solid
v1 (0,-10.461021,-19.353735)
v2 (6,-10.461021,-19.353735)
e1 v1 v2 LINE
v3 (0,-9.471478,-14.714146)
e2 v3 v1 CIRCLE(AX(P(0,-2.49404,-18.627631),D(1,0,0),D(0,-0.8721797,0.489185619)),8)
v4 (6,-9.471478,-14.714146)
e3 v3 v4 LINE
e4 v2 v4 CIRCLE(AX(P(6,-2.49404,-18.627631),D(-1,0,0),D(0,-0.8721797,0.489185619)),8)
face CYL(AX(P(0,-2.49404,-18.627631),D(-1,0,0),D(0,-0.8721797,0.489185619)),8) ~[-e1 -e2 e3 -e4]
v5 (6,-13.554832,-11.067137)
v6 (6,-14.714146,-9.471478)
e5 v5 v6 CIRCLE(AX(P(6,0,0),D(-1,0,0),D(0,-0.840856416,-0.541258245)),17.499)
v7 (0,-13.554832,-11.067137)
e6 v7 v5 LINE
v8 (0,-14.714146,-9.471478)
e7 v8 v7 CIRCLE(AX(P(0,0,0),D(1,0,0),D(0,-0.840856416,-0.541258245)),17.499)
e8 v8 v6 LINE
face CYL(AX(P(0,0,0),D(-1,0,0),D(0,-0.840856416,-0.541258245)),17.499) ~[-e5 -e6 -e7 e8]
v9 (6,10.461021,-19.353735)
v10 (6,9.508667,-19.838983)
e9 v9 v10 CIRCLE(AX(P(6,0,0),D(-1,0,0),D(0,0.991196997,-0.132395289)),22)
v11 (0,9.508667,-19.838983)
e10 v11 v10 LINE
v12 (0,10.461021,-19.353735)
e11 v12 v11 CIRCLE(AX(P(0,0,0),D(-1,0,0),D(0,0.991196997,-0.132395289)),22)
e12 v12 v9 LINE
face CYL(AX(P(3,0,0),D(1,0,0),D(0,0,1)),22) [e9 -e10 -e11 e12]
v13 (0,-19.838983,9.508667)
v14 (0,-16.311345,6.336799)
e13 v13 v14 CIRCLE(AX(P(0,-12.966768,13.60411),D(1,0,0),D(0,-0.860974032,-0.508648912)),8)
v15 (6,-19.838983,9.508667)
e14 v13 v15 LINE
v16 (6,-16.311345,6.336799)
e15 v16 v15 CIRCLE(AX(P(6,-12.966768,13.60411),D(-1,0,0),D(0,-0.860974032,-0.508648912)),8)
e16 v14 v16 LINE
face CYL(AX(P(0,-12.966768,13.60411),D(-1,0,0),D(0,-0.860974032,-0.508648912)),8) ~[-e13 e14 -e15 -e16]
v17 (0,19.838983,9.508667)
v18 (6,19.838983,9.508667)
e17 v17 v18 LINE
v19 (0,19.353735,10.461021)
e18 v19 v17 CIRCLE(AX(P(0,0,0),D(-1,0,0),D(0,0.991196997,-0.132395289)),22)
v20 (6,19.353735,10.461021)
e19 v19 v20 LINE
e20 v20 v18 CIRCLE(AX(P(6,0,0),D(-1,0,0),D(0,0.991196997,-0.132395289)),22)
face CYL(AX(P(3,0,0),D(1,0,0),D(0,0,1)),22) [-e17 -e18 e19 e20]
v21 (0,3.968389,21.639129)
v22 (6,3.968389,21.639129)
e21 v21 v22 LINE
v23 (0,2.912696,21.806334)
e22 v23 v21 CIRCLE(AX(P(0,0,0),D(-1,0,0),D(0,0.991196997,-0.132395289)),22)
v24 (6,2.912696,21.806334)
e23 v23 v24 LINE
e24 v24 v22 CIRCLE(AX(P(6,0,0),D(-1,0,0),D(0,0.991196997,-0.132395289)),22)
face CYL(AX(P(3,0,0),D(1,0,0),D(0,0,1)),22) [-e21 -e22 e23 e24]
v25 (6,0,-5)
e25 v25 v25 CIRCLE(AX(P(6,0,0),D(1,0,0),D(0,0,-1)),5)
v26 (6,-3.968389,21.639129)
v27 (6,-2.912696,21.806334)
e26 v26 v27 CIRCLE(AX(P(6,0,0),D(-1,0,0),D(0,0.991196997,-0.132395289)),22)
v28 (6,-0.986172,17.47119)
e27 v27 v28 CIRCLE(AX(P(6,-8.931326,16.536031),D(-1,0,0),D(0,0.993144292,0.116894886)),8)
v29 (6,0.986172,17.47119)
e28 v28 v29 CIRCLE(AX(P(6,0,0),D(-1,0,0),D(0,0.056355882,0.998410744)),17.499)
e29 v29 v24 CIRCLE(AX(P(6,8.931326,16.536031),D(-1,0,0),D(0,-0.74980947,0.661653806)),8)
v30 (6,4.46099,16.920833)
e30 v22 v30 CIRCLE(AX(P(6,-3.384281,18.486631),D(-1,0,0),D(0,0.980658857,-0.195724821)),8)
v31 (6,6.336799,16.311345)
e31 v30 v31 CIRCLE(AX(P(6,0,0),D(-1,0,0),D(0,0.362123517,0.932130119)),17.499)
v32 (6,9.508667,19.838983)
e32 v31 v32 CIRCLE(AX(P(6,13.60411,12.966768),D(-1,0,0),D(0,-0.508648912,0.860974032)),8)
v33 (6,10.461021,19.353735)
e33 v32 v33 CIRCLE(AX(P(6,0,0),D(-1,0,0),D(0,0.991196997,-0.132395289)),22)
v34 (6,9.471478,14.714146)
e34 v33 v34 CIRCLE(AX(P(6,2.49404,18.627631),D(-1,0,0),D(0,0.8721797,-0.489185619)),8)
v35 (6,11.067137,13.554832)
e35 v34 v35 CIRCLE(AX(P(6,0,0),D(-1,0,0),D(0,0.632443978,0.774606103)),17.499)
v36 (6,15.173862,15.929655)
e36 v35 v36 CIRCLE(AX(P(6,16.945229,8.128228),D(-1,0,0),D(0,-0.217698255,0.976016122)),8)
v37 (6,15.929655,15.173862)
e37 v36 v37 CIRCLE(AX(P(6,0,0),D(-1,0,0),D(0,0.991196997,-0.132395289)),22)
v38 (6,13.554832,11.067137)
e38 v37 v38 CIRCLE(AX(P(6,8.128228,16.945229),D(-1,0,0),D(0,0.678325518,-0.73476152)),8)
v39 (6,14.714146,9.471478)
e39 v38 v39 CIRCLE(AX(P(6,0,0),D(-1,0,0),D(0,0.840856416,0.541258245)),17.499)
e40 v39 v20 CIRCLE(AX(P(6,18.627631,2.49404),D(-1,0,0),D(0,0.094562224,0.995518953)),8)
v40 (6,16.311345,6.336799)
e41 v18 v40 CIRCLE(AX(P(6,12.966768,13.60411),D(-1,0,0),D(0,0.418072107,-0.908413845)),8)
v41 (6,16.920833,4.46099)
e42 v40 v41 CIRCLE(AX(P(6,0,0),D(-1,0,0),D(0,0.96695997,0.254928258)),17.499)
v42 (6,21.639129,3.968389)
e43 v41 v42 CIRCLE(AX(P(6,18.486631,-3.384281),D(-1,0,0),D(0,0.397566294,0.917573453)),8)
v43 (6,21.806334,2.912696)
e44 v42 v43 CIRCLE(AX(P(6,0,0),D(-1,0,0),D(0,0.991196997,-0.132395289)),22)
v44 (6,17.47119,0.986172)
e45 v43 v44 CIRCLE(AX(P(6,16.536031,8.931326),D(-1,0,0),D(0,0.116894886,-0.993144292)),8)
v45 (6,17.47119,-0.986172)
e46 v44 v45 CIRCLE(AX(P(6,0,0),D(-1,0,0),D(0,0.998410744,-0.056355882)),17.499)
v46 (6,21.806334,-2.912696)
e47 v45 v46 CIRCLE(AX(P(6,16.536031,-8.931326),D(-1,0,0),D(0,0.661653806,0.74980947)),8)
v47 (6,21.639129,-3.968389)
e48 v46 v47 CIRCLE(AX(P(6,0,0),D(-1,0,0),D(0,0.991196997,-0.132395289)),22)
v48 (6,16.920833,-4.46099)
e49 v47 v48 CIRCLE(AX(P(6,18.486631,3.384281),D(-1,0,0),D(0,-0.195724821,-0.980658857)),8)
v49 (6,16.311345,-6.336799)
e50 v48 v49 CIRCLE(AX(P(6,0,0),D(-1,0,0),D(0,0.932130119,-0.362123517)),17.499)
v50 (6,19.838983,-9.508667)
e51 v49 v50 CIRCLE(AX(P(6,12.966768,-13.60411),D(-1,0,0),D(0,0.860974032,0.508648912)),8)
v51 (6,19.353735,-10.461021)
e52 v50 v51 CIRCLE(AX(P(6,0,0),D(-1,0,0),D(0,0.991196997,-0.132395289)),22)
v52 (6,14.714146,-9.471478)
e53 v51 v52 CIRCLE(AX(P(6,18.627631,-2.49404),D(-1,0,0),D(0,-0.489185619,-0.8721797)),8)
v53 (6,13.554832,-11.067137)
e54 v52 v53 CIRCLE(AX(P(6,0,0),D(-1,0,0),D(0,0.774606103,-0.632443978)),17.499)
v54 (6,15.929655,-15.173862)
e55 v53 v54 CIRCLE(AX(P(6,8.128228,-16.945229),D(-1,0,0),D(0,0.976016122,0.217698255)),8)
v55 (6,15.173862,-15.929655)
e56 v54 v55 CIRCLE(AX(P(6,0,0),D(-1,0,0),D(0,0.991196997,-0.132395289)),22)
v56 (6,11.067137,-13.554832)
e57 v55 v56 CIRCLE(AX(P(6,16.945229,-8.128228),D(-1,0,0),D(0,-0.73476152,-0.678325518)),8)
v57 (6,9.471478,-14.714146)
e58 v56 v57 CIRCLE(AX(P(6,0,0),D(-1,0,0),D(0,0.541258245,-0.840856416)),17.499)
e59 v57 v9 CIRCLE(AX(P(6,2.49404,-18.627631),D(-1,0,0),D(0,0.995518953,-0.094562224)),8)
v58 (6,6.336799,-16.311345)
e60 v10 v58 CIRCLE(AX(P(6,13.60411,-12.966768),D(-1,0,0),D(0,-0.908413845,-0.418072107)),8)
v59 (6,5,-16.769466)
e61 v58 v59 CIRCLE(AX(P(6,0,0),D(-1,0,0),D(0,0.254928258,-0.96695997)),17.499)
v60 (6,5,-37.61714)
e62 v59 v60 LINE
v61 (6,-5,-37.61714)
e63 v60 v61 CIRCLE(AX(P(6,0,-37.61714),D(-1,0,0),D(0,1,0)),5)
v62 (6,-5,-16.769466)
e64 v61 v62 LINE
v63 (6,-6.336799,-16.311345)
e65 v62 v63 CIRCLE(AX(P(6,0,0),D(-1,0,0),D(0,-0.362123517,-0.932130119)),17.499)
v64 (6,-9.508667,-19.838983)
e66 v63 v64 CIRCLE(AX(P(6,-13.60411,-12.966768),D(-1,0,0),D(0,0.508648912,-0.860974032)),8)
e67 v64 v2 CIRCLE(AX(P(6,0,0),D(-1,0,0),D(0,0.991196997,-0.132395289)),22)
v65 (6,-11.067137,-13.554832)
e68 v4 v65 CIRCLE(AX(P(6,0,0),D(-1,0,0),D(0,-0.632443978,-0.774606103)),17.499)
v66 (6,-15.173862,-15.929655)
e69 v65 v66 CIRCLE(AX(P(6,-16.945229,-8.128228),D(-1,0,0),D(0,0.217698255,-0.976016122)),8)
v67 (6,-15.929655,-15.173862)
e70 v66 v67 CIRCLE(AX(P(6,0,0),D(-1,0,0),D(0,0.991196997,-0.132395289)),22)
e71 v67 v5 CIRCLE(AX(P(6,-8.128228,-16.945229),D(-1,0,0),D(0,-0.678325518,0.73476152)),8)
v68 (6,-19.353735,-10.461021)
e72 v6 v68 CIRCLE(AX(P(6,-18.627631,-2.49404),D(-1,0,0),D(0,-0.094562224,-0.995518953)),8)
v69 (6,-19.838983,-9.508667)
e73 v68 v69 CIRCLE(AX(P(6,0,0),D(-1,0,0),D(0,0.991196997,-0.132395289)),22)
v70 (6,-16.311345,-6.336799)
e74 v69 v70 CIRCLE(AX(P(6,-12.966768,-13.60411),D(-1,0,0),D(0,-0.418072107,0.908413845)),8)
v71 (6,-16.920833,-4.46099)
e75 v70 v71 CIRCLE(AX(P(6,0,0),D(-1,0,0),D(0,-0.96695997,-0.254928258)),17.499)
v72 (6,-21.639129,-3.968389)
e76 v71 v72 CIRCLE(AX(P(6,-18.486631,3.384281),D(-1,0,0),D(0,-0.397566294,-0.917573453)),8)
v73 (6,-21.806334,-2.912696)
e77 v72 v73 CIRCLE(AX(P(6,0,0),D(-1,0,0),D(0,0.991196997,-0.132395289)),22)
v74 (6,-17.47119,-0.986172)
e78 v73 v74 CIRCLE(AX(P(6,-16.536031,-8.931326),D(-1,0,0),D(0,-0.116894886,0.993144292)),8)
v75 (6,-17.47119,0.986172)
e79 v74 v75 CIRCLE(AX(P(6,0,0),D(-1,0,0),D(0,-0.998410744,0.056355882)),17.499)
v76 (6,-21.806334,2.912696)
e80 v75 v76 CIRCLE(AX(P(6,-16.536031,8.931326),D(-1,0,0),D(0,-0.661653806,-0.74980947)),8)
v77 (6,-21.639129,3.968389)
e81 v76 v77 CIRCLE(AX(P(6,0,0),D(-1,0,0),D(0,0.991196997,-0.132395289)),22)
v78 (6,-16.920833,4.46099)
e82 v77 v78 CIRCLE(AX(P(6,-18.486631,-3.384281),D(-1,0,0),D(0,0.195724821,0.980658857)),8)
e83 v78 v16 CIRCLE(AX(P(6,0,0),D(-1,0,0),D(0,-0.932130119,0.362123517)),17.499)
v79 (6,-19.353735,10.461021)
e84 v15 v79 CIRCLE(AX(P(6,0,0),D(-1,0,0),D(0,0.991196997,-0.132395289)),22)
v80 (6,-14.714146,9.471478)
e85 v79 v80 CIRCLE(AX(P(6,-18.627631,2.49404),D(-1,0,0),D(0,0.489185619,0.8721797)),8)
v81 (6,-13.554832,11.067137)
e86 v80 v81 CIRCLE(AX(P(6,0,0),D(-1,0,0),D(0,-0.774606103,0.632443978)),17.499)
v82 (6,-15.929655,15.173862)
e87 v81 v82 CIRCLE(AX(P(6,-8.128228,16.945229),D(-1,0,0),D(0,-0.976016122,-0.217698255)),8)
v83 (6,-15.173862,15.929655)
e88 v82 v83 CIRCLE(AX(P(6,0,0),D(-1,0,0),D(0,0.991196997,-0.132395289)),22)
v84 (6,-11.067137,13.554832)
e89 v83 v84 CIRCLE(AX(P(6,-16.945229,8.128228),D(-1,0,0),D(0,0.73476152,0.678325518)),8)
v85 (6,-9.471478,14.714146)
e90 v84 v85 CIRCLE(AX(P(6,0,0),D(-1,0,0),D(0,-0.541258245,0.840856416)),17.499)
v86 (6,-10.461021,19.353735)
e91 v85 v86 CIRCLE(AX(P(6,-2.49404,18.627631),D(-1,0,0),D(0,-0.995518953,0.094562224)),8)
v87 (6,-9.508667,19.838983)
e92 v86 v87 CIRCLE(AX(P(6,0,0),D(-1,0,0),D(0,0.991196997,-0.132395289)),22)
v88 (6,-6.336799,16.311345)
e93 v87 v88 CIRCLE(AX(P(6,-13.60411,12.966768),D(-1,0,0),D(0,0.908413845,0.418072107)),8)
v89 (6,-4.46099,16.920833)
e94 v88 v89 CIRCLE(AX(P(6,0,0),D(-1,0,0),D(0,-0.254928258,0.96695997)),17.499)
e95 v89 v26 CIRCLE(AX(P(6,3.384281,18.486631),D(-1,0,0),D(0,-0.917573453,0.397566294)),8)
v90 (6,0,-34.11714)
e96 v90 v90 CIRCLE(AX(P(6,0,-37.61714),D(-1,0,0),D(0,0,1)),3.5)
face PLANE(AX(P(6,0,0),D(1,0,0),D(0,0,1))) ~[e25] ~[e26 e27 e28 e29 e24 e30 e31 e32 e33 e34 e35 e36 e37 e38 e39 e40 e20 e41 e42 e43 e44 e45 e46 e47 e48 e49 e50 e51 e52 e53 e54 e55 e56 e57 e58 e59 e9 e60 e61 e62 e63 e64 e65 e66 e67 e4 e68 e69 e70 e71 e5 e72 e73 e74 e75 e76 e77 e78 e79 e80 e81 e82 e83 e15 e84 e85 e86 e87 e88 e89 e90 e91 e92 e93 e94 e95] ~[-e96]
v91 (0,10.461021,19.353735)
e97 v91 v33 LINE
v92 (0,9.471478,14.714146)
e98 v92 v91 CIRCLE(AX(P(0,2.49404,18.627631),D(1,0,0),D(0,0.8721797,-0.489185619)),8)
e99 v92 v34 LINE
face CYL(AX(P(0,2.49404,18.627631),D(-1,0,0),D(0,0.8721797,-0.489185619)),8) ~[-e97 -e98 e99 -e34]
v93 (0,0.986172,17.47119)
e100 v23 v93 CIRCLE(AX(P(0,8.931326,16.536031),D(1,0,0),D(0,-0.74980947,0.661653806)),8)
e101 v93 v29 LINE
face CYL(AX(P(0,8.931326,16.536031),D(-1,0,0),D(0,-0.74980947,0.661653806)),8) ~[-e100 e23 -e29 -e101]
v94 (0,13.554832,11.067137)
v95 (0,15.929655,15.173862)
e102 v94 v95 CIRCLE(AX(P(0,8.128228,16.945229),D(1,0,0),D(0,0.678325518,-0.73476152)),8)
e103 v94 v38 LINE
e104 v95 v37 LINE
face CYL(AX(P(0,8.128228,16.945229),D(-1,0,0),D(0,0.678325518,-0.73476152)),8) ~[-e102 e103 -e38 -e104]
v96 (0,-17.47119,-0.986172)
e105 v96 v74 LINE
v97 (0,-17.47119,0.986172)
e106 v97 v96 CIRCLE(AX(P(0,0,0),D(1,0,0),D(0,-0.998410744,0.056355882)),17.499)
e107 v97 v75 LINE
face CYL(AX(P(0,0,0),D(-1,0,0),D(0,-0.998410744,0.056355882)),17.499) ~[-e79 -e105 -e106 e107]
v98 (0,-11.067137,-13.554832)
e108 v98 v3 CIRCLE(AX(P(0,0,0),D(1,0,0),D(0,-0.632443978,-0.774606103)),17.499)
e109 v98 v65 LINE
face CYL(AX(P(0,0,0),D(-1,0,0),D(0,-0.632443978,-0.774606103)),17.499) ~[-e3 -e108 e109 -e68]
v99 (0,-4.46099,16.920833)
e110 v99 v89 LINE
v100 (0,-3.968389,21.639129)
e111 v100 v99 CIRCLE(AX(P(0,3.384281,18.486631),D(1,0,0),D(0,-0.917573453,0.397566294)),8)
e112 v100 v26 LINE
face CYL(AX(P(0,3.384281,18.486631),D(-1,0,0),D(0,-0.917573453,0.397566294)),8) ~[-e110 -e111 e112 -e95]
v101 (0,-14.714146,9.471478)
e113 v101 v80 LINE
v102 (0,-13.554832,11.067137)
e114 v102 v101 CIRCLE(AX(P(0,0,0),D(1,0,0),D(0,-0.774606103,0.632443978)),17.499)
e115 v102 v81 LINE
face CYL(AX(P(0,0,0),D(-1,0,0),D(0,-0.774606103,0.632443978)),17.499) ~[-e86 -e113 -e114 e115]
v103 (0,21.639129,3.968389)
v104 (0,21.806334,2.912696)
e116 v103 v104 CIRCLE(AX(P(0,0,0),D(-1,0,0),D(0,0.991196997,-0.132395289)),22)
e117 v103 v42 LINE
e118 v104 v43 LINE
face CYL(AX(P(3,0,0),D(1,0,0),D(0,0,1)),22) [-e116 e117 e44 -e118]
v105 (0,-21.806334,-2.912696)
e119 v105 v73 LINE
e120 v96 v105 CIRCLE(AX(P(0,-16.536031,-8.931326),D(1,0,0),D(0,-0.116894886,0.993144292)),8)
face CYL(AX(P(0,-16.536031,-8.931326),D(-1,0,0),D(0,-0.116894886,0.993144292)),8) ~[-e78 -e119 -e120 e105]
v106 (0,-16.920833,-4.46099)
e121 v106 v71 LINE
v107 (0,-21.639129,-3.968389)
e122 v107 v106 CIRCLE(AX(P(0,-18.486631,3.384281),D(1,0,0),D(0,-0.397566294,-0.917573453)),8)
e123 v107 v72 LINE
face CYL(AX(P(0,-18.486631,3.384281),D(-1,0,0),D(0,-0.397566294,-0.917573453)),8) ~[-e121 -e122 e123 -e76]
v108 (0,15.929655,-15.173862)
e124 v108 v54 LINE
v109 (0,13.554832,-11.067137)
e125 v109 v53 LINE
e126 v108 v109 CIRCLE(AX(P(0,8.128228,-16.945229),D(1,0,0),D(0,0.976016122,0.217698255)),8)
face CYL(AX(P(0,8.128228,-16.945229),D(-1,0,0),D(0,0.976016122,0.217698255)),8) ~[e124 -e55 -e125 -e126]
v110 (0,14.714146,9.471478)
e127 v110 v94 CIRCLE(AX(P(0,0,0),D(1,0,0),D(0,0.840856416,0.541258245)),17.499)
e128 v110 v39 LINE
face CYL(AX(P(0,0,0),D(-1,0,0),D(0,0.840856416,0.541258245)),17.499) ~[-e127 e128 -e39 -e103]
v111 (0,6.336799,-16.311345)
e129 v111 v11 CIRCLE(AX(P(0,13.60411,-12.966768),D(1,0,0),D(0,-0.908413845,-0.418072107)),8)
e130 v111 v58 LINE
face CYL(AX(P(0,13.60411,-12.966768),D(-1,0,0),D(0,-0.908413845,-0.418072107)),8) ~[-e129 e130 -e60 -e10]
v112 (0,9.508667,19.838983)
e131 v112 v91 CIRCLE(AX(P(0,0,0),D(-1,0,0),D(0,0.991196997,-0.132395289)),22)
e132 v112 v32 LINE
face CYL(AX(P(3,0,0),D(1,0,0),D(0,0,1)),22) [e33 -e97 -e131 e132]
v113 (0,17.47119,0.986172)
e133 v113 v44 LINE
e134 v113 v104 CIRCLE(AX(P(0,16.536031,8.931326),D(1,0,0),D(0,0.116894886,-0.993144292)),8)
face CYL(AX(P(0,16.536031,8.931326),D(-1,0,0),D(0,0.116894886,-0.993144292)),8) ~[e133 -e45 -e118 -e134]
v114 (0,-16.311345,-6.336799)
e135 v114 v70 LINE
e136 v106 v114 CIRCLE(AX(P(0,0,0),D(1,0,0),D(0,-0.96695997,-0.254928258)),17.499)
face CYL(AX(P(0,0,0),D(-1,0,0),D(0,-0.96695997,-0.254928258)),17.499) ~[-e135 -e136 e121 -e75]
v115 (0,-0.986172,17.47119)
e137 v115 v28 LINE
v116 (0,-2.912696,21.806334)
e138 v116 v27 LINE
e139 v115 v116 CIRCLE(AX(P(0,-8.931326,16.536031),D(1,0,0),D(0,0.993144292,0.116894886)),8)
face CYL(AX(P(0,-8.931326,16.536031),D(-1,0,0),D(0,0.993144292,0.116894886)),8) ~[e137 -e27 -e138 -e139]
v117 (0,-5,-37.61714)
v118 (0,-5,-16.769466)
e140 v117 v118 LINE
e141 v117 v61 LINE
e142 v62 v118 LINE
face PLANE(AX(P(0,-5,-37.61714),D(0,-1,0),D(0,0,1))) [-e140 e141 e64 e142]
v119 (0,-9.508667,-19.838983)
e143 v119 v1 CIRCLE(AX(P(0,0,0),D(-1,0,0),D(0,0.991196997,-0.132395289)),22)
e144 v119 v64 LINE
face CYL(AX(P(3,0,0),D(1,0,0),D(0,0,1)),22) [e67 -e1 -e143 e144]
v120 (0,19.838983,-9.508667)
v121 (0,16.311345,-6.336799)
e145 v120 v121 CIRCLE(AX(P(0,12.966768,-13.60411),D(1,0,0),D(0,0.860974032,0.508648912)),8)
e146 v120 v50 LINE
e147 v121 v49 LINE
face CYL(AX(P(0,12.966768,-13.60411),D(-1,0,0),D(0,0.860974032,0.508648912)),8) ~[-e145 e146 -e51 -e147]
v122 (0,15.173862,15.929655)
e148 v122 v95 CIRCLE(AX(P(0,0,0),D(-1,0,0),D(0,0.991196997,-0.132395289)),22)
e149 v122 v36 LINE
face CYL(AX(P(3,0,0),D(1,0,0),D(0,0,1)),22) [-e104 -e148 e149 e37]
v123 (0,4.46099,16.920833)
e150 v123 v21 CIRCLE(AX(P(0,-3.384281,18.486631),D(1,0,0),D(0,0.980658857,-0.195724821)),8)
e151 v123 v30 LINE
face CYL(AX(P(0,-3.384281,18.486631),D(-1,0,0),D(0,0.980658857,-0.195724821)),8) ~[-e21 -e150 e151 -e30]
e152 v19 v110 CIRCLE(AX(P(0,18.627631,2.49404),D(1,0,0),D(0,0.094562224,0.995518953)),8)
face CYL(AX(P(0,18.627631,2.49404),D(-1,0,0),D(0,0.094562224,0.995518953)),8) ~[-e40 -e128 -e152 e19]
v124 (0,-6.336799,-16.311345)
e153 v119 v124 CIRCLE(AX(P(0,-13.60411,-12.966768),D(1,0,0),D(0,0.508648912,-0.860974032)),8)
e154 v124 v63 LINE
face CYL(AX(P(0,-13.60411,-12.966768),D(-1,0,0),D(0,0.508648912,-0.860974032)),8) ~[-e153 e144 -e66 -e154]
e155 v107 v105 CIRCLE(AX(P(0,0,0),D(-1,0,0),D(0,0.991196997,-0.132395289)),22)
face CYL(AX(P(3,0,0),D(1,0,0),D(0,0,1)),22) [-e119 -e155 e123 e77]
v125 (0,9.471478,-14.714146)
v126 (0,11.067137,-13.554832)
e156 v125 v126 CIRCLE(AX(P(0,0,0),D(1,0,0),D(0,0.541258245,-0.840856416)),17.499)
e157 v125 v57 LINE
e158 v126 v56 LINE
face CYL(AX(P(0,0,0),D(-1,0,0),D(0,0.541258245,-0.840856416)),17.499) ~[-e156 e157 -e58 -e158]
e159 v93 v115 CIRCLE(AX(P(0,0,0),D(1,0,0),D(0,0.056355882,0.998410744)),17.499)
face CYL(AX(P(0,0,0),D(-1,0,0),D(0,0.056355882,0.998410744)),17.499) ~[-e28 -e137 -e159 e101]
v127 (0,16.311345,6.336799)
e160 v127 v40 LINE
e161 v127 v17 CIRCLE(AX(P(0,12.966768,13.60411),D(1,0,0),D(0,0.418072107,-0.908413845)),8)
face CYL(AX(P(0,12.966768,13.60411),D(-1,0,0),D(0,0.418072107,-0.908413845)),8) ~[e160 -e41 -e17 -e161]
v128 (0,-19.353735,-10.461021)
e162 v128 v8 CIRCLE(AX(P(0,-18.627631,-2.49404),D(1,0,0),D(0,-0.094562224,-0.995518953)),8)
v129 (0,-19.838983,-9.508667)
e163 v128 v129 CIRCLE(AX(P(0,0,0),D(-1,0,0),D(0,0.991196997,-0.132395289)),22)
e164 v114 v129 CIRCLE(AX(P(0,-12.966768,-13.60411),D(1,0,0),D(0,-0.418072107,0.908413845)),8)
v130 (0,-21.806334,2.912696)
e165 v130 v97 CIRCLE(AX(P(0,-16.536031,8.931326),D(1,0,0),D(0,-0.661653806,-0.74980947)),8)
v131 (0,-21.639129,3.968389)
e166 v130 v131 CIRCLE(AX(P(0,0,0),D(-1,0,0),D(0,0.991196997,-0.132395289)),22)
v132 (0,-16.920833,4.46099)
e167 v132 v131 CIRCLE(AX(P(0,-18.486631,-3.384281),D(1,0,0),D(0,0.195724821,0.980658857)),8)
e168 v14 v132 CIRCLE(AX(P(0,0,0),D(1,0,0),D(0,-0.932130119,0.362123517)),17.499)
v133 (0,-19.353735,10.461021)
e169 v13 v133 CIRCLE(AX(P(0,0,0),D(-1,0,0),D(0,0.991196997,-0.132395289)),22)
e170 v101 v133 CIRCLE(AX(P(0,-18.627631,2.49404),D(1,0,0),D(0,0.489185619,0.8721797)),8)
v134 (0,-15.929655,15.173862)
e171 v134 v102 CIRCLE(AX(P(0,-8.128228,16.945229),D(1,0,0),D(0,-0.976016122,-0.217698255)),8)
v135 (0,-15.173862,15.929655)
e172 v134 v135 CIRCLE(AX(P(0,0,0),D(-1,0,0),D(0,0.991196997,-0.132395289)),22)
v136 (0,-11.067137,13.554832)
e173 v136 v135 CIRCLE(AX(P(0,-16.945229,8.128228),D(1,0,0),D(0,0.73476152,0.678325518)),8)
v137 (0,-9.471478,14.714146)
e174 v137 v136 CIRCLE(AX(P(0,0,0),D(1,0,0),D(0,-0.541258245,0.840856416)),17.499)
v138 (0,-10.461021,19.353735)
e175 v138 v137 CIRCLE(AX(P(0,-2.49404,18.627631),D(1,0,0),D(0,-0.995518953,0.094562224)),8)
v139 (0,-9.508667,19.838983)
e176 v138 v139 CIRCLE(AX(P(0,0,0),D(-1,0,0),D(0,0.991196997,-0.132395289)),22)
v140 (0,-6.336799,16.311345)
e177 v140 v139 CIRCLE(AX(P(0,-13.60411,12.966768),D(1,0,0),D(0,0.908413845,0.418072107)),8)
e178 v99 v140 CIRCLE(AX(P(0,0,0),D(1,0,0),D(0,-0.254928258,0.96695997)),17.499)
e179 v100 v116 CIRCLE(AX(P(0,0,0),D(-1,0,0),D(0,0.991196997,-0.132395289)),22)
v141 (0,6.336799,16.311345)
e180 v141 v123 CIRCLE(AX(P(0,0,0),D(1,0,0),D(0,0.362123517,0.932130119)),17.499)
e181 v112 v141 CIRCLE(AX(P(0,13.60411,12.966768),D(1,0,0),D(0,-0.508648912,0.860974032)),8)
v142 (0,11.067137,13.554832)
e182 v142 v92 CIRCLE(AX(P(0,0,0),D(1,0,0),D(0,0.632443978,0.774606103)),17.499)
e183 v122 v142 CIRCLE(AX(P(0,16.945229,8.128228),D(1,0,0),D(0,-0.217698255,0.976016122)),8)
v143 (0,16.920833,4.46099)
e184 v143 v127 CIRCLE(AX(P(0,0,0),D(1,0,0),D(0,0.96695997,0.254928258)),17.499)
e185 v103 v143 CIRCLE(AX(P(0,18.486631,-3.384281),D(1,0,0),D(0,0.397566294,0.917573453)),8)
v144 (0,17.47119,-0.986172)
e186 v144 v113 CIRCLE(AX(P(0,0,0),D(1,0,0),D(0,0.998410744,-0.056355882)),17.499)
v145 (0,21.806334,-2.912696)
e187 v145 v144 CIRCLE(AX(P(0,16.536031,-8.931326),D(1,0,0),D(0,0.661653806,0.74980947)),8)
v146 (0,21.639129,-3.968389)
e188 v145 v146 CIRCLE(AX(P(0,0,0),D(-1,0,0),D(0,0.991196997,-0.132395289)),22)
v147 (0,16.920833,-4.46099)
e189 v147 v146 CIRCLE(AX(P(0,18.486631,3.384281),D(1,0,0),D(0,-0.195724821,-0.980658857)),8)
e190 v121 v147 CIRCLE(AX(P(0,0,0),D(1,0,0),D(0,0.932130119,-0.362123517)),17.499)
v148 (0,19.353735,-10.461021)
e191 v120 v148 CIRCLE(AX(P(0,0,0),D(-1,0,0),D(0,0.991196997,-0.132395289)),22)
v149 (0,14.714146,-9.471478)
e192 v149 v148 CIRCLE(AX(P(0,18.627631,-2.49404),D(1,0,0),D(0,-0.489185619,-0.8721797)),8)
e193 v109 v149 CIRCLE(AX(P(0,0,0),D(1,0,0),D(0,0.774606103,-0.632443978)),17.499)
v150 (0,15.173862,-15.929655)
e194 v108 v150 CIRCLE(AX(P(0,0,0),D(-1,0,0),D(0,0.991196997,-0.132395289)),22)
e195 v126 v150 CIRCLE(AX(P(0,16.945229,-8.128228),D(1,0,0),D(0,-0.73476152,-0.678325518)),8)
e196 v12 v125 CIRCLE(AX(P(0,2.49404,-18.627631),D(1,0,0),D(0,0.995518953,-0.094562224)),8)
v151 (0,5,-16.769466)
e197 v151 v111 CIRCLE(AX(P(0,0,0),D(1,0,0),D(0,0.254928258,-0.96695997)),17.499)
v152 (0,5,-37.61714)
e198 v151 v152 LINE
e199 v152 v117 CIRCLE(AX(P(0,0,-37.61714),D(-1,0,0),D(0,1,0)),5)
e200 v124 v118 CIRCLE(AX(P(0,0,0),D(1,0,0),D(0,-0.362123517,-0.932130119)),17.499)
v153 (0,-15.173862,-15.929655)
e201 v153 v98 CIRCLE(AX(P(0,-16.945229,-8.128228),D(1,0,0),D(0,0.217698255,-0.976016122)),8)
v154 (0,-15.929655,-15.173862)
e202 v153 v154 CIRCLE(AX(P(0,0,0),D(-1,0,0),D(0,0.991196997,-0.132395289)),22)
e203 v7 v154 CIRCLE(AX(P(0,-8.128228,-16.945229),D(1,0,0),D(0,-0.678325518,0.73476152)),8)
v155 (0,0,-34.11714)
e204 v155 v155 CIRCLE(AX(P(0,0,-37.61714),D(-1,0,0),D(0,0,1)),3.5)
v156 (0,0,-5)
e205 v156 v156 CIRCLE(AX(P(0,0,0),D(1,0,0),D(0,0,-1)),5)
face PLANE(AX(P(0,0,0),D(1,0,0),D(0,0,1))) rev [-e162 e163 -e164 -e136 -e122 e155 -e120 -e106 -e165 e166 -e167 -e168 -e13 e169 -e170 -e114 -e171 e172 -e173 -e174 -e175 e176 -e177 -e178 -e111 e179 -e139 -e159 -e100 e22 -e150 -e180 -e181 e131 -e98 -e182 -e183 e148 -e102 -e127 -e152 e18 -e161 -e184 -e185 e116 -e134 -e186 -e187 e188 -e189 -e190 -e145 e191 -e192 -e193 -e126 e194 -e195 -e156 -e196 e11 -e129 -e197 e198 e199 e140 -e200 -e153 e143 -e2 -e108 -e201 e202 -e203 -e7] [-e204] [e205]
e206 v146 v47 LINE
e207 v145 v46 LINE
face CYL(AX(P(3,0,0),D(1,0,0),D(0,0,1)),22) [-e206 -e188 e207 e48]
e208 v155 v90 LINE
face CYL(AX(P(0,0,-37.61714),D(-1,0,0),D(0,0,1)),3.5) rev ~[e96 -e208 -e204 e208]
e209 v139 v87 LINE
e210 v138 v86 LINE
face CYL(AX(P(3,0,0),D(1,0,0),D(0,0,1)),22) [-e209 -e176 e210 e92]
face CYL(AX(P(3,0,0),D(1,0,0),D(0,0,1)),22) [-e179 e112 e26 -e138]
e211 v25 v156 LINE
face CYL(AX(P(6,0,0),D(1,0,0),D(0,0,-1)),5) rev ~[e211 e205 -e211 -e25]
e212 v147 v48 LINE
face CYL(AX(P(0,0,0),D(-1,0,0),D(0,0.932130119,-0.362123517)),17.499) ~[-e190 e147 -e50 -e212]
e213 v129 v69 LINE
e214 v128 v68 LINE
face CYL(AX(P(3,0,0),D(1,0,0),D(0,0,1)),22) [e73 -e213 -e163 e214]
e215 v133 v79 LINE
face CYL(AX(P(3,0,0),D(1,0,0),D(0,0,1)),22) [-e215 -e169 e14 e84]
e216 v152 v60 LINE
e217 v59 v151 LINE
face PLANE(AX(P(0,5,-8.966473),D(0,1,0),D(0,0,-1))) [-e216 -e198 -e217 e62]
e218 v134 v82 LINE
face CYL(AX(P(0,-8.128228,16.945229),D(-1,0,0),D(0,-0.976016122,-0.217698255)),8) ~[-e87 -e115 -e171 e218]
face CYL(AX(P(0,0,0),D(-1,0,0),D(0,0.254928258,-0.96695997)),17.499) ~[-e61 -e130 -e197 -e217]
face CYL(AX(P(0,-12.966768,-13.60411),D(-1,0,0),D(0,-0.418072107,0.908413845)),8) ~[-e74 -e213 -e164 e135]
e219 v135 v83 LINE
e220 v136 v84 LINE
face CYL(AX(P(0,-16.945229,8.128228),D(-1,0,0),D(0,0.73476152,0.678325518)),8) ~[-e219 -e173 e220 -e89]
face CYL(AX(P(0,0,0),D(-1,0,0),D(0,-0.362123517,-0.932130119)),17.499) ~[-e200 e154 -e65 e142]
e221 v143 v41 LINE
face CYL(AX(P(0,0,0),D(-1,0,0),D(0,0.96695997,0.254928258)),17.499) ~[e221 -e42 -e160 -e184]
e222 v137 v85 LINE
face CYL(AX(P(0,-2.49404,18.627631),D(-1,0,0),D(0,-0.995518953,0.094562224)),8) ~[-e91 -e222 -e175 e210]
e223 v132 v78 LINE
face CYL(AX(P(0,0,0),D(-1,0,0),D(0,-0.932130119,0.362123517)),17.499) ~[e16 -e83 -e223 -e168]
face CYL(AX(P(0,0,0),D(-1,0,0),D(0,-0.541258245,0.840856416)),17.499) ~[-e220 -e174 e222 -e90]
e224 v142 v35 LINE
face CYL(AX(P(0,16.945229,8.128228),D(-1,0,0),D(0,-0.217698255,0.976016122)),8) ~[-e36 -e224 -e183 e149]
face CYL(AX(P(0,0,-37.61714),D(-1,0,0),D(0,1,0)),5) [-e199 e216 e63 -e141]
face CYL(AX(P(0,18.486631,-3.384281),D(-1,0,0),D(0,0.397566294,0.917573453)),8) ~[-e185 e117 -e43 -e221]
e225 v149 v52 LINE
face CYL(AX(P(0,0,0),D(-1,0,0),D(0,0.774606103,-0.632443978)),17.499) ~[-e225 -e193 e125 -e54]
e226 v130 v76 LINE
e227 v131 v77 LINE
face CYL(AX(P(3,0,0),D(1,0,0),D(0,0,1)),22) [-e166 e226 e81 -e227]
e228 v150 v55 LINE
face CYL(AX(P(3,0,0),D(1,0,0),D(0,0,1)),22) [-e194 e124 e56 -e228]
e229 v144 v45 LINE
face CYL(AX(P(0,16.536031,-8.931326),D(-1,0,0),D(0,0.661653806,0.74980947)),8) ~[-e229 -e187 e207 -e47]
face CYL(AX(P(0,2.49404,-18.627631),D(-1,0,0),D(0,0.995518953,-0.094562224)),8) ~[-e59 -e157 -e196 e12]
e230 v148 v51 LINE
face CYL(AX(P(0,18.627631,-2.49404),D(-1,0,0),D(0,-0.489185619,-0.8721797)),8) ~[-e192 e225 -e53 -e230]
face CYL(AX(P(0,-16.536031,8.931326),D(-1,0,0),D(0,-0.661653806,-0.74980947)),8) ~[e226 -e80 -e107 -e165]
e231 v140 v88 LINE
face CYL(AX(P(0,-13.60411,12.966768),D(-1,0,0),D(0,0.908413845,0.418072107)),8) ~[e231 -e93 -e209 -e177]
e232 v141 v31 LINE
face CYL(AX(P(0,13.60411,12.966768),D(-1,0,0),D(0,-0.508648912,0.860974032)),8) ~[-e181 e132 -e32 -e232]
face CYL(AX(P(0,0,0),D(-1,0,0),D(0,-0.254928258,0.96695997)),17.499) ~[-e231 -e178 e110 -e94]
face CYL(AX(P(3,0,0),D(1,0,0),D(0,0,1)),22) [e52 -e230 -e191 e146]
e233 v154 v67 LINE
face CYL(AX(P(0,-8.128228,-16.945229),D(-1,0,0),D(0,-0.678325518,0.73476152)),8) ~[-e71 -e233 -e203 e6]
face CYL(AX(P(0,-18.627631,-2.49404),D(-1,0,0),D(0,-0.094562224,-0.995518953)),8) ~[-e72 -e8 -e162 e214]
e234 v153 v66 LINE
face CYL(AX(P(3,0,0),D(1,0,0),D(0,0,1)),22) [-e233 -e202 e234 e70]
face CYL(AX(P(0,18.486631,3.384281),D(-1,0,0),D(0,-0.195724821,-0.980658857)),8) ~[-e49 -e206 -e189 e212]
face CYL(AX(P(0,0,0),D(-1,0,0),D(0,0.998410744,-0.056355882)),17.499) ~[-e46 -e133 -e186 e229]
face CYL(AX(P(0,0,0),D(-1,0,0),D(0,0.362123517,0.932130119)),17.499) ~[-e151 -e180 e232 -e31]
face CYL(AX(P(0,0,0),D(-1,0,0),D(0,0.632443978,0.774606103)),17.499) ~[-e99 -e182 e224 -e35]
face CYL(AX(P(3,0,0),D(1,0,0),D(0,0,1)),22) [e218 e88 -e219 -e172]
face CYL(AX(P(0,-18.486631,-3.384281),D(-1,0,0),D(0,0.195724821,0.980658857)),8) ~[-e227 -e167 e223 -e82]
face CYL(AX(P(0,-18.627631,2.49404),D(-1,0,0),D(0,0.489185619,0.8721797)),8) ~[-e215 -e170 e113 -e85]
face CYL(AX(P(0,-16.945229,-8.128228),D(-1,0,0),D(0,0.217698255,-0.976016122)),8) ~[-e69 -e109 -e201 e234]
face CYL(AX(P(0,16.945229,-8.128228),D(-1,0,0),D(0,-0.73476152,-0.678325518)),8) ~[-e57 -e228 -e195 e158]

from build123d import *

# Parameters (mm, degrees)
BASPROSKE_W         = 6
BASPROSKE_H         = 22
TOOTHCUT_DEPTH      = 32.685959036
TEETHCUTS_COUNT     = 20
TEETHCUTS_ANGLE     = 342
BORSKE_R            = 2
BORE_DEPTH          = 50.0000508
SKETCH1_R           = 5
CUT_EXTRUDE1_DEPTH  = 32.417071791
BOSS_EXTRUDE1_DEPTH = 6
SKETCH3_R           = 3.5
CUT_EXTRUDE2_DEPTH  = 6


with BuildPart() as part:
    # BasProSke → Base-Revolve (revolve)
    with BuildSketch(Plane(origin=(0, 0, 0), x_dir=(1, 0, 0), z_dir=(0, 1, 0)), mode=Mode.PRIVATE) as base_revolve_sk:
        with Locations((3, 11)):
            Rectangle(BASPROSKE_W, BASPROSKE_H)
    revolve(base_revolve_sk.sketch.rotate(Axis((-10, 0, 0), (1, 0, 0)), 180), axis=Axis((-10, 0, 0), (1, 0, 0)))

    # TooCutSke → ToothCut (cut, through all)
    with BuildSketch(Plane(origin=(0, 0, 0), x_dir=(0, 0, -1), z_dir=(1, 0, 0))):
        with BuildLine():
            ThreePointArc((0.986171591, 17.471189616), (0, 17.499), (-0.986171591, 17.471189616))
            ThreePointArc((-0.986171591, 17.471189616), (-1.626916196, 19.798789858), (-2.932850173, 21.829260982))
            ThreePointArc((-2.932850173, 21.829260982), (0, 22.0254), (2.932850173, 21.829260982))
            ThreePointArc((2.932850173, 21.829260982), (1.626916196, 19.798789858), (0.986171591, 17.471189616))
        make_face()
    toothcut = extrude(amount=TOOTHCUT_DEPTH, mode=Mode.SUBTRACT)

    # TeethCuts: ToothCut ×20 about axis
    teethcuts_axis = Axis((-10, 0, 0), (1, 0, 0))
    for i in range(1, TEETHCUTS_COUNT):
        add(toothcut.rotate(teethcuts_axis, i * TEETHCUTS_ANGLE / (TEETHCUTS_COUNT - 1)), mode=Mode.SUBTRACT)

    # BorSke → Bore (cut, symmetric)
    with BuildSketch(Plane(origin=(0, 0, 0), x_dir=(0, 0, -1), z_dir=(1, 0, 0))):
        with Locations(Location((0, 0, 0), (0, 0, 180))):
            Circle(BORSKE_R)
    extrude(amount=BORE_DEPTH, both=True, mode=Mode.SUBTRACT)

    # Sketch1 → Cut-Extrude1 (cut, through all)
    with BuildSketch(Plane(origin=(6, 0, 0), x_dir=(0, 0, -1), z_dir=(1, 0, 0))):
        Circle(SKETCH1_R)
    extrude(amount=-CUT_EXTRUDE1_DEPTH, mode=Mode.SUBTRACT)

    # Sketch2 → Boss-Extrude1 (add)
    with BuildSketch(Plane.ZY):
        with BuildLine():
            Line((-37.617140139, -5), (-8.966472533, -5))
            Line((-8.966472533, -5), (-8.966472533, 5))
            Line((-8.966472533, 5), (-37.617140139, 5))
            ThreePointArc((-37.617140139, 5), (-34.081606234, 3.535533906), (-32.617140139, 0))
            ThreePointArc((-32.617140139, 0), (-34.081606234, -3.535533906), (-37.617140139, -5))
        make_face()
        with BuildLine():
            ThreePointArc((-37.617140139, 5), (-42.617140139, 0), (-37.617140139, -5))
            Line((-37.617140139, -5), (-37.617140139, 5))
        make_face()
        with BuildLine():
            Line((-37.617140139, 5), (-37.617140139, -5))
            ThreePointArc((-37.617140139, -5), (-34.081606234, -3.535533906), (-32.617140139, 0))
            ThreePointArc((-32.617140139, 0), (-34.081606234, 3.535533906), (-37.617140139, 5))
        make_face()
    extrude(amount=-BOSS_EXTRUDE1_DEPTH)

    # Sketch3 → Cut-Extrude2 (cut)
    with BuildSketch(Plane.ZY):
        with Locations((-37.617140139, 0)):
            Circle(SKETCH3_R)
    extrude(amount=-CUT_EXTRUDE2_DEPTH, mode=Mode.SUBTRACT)


solid = part.part
